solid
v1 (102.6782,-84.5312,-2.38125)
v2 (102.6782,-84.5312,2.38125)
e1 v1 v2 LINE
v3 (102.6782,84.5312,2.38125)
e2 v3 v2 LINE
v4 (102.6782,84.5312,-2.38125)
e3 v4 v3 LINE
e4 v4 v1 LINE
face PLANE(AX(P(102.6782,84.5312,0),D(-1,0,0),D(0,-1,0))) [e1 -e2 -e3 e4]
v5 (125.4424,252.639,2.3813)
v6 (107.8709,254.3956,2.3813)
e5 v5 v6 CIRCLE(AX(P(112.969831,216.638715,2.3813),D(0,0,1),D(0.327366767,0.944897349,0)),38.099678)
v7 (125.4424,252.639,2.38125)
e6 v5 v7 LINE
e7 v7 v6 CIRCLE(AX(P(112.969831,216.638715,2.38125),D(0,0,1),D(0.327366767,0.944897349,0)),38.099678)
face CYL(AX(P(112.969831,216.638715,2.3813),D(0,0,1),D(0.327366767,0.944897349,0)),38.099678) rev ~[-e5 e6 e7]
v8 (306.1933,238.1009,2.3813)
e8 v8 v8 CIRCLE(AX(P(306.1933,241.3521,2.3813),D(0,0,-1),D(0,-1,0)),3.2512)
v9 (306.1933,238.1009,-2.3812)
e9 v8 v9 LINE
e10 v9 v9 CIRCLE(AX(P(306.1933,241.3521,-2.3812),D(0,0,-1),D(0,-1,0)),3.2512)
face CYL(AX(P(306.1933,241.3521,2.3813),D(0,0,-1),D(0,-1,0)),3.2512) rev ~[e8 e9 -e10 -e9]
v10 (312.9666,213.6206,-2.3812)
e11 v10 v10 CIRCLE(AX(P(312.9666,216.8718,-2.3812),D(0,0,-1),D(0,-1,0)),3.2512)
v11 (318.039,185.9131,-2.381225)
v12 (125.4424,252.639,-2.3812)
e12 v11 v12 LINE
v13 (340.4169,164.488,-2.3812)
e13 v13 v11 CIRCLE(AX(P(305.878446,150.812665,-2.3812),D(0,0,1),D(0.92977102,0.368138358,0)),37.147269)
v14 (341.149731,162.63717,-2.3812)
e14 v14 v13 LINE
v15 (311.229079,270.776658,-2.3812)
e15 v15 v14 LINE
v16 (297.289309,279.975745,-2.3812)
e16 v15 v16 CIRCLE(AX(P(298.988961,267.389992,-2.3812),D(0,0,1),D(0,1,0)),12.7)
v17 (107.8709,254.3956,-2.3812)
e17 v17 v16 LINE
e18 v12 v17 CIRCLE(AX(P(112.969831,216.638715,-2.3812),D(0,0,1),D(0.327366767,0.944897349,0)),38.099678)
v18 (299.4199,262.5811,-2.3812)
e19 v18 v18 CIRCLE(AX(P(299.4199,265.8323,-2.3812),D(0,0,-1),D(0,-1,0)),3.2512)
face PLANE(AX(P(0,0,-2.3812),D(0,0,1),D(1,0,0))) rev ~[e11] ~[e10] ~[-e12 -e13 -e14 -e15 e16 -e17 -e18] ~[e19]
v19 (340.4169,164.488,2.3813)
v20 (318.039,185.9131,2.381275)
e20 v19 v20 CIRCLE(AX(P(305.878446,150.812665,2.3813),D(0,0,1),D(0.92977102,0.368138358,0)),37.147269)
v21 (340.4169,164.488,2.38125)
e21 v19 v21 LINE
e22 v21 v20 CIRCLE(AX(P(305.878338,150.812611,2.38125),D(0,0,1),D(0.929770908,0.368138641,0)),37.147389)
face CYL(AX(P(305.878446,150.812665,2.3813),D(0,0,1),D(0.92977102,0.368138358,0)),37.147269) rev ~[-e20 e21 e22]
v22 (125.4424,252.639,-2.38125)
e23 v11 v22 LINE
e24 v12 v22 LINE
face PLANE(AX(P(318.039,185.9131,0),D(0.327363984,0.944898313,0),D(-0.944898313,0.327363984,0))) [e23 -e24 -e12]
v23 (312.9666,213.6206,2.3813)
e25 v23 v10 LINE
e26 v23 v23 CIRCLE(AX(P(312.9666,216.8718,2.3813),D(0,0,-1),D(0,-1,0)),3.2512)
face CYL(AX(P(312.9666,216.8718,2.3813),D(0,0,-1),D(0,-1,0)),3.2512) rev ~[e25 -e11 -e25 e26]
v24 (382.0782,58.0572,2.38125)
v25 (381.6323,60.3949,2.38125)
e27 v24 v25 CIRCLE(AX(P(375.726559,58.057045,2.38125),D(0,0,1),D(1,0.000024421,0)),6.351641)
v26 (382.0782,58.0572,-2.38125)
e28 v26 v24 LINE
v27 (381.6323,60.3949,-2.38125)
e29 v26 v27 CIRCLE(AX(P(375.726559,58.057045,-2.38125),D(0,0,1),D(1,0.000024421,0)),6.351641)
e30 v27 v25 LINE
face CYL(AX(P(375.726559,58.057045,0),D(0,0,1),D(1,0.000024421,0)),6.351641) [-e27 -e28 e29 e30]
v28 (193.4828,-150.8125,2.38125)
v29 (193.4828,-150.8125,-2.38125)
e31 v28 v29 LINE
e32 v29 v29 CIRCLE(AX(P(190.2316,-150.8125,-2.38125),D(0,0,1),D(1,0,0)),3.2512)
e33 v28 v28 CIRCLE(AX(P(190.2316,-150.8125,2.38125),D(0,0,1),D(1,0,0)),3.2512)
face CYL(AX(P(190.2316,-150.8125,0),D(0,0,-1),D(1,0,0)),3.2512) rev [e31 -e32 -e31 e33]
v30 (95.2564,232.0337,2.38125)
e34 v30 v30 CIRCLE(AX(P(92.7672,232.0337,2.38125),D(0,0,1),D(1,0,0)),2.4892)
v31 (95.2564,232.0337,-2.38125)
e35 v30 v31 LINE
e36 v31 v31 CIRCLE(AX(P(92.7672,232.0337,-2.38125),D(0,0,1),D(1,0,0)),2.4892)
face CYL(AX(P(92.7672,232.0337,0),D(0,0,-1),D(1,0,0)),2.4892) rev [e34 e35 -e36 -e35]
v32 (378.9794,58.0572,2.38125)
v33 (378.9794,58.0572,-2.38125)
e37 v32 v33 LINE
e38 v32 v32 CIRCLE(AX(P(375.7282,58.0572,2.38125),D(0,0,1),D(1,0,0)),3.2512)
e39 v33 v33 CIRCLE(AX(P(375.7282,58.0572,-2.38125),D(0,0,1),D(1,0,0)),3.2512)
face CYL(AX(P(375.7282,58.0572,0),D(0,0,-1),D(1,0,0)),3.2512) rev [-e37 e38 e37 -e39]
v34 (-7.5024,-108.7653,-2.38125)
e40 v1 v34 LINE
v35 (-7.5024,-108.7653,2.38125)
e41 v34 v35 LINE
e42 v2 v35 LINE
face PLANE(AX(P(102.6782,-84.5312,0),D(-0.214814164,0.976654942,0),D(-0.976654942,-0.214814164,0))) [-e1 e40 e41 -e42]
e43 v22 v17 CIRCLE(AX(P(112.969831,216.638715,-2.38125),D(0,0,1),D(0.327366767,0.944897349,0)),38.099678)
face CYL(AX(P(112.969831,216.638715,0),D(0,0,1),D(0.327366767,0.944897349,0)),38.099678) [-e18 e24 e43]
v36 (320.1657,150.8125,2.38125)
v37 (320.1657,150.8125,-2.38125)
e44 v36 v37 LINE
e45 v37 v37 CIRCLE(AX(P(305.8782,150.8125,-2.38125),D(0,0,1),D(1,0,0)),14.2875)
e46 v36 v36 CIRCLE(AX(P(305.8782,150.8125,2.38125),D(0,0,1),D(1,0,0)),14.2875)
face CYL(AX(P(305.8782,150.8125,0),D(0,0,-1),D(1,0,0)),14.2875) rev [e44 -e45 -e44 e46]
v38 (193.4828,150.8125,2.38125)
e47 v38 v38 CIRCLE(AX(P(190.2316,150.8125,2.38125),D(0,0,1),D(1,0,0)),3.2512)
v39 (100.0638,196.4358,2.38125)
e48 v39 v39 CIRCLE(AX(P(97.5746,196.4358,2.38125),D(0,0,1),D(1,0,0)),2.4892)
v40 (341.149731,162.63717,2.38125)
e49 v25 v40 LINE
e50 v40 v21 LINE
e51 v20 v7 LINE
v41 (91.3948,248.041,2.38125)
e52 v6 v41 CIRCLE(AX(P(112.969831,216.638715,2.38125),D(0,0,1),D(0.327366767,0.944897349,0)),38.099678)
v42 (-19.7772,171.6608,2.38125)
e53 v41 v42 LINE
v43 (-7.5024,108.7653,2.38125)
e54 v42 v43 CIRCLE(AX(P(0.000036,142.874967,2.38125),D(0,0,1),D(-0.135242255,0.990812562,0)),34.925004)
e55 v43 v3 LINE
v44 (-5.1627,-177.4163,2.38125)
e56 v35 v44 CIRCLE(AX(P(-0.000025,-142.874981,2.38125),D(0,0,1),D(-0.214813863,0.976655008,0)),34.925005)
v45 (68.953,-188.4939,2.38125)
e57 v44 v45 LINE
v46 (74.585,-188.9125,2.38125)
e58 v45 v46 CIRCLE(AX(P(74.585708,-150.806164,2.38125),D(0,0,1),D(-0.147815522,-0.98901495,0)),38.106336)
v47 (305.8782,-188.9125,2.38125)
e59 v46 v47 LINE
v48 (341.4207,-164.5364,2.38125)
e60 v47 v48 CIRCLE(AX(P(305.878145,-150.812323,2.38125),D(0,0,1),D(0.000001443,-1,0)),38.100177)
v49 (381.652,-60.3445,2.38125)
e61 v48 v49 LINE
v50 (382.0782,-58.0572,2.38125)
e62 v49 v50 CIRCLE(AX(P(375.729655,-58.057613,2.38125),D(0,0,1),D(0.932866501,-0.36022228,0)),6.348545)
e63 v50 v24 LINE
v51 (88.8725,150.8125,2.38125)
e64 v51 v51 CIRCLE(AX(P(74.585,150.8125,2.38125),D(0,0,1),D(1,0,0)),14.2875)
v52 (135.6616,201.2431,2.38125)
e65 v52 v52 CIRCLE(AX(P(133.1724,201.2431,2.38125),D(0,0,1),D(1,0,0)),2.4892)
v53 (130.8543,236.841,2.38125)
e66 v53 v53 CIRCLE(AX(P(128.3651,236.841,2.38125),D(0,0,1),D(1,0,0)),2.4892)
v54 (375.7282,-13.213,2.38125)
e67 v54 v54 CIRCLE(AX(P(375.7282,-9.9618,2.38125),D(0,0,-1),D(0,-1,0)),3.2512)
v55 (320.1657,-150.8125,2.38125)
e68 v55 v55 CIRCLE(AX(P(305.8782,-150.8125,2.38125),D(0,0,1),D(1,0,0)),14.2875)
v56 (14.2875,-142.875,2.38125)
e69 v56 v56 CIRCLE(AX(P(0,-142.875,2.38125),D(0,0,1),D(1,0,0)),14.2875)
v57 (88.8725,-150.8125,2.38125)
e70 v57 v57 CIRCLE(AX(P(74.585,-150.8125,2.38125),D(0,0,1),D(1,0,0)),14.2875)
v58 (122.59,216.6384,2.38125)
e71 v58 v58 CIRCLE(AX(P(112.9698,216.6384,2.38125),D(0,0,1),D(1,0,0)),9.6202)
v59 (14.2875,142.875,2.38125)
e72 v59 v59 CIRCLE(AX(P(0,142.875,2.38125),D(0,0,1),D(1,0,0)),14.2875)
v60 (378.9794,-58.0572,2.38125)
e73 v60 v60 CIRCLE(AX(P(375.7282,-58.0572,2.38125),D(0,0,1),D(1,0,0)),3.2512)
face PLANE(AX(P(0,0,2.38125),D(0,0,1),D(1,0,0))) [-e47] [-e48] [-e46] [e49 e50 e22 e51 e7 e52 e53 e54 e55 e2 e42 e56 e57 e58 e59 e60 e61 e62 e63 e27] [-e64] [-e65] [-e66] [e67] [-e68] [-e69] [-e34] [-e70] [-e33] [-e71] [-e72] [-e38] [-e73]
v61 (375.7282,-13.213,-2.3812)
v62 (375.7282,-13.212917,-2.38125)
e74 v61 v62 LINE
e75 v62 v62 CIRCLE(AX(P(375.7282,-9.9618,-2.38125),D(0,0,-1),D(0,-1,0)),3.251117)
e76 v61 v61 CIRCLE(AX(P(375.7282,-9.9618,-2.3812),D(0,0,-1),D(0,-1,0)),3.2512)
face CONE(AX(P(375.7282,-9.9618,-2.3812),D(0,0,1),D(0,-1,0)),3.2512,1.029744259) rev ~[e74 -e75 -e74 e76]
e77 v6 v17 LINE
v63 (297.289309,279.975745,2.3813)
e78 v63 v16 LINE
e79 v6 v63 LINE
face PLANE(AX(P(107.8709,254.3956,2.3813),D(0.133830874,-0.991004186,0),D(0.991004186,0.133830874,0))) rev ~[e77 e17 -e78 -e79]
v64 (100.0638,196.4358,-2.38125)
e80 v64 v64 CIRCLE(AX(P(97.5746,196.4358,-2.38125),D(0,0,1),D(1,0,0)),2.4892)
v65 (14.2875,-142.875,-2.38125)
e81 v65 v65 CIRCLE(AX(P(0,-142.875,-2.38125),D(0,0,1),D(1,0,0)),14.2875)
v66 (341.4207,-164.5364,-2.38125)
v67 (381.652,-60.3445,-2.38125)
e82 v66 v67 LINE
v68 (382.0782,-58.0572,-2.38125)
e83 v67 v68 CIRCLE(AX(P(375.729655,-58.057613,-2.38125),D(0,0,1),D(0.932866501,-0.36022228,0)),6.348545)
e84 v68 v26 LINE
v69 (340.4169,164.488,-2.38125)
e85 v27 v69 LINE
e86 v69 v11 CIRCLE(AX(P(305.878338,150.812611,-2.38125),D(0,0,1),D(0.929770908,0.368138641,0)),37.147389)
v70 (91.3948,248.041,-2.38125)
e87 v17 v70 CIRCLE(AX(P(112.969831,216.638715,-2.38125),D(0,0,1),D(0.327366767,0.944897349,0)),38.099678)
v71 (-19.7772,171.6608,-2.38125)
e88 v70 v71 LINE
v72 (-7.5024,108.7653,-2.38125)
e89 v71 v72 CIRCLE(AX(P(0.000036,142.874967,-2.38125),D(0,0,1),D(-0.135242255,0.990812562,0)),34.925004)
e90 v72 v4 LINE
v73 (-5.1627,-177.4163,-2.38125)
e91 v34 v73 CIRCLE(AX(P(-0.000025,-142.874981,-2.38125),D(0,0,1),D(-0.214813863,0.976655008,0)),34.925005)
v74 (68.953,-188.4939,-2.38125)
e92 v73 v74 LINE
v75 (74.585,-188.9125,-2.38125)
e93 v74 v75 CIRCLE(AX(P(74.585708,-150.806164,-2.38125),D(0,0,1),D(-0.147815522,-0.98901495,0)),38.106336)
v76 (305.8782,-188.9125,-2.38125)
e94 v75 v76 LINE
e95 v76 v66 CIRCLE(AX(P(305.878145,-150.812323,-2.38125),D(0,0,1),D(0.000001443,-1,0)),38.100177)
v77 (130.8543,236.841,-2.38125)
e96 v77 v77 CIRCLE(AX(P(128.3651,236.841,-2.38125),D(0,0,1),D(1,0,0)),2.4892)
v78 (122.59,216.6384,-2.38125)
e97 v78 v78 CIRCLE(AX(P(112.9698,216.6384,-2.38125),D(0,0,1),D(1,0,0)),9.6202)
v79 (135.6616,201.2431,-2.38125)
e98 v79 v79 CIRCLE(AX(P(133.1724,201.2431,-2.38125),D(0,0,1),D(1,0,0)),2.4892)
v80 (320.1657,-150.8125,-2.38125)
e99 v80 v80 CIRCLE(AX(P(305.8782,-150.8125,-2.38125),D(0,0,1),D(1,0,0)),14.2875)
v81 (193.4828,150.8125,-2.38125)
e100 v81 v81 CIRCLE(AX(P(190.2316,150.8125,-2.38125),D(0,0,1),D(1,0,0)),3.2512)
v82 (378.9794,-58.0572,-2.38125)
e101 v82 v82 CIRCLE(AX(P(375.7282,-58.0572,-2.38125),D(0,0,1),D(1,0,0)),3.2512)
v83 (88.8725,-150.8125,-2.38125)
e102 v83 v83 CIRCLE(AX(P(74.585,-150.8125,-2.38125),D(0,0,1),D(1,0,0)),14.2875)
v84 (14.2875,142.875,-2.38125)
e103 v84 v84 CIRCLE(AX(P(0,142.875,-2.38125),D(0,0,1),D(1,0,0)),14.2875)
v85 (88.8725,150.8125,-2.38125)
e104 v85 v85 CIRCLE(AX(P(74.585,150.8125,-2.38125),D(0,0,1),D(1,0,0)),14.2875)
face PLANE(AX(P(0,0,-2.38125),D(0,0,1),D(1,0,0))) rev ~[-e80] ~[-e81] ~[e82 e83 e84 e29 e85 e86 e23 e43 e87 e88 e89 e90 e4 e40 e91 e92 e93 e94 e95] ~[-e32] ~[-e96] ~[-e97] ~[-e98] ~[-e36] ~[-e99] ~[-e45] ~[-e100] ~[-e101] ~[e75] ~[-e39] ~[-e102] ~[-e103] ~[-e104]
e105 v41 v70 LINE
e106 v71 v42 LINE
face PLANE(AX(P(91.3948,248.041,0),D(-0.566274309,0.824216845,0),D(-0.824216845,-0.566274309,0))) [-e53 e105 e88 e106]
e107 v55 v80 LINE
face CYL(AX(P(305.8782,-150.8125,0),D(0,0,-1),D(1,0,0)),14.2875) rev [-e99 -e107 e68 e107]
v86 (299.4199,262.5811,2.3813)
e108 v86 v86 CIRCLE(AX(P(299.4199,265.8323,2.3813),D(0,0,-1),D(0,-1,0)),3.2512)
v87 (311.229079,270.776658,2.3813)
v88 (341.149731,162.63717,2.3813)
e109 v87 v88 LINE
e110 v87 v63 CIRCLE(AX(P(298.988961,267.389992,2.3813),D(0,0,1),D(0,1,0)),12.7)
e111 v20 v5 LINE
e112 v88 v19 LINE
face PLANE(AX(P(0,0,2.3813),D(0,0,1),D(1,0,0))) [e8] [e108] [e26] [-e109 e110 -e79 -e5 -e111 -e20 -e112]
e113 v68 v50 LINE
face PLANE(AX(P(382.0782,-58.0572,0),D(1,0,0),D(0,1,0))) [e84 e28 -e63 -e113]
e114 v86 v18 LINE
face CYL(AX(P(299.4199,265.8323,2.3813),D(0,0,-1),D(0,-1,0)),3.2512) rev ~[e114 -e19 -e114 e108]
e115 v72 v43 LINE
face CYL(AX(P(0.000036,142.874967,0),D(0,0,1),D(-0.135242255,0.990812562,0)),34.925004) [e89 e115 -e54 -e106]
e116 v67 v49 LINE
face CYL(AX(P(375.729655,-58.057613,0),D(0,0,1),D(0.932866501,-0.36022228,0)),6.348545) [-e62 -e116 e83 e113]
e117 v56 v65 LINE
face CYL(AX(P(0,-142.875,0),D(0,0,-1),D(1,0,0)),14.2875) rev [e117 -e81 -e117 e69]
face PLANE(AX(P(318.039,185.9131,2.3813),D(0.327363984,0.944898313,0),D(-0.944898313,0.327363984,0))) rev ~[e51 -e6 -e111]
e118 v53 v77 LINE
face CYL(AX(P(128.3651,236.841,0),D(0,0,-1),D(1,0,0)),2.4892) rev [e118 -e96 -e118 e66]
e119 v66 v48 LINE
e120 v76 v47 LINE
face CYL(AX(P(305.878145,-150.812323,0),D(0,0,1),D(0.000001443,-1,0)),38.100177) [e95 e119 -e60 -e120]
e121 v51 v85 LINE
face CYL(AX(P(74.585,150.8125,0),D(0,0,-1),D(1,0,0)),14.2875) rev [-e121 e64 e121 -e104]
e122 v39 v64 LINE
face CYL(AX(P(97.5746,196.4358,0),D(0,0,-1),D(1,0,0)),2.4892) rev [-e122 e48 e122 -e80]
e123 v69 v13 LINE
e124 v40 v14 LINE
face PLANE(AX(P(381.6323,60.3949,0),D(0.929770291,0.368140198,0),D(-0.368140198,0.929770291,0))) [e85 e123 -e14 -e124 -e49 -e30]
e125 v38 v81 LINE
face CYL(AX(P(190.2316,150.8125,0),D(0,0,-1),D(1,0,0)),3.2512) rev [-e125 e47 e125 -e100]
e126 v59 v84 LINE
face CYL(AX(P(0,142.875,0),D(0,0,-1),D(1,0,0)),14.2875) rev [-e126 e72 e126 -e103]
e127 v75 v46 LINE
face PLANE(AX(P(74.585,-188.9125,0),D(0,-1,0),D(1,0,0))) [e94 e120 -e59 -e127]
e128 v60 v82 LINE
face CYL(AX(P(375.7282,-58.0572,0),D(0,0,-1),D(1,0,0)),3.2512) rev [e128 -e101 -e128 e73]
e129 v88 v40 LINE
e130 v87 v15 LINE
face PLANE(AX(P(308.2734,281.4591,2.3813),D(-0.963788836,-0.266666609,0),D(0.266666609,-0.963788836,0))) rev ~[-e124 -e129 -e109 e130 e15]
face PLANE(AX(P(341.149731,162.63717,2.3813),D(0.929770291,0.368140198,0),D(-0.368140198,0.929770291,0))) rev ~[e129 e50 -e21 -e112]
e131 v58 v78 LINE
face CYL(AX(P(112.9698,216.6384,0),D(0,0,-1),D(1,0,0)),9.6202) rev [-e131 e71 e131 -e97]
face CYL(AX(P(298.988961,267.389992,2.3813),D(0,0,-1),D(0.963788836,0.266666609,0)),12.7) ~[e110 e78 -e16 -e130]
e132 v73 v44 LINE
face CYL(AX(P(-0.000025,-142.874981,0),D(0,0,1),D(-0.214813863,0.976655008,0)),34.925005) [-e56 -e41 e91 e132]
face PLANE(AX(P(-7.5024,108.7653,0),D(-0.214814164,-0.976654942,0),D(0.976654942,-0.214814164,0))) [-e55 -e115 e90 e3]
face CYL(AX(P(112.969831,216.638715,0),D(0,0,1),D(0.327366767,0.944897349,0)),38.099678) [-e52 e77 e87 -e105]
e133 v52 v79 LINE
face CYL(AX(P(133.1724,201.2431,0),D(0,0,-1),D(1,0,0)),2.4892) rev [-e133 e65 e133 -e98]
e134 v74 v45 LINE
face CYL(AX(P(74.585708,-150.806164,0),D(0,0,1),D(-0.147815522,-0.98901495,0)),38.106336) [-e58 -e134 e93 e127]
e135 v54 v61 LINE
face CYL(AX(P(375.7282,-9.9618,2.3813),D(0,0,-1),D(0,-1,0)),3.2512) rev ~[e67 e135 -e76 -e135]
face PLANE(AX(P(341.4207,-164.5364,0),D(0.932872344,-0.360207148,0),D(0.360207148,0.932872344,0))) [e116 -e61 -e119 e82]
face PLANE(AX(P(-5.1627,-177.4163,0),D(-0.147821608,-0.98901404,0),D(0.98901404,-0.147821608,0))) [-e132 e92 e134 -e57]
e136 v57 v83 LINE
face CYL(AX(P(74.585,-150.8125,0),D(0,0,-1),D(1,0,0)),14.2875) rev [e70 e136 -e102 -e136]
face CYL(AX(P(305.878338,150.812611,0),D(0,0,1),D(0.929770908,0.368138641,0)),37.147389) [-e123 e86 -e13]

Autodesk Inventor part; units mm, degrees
ref_plane "YZ Plane" through (0, 0, 0) normal (1, 0, 0) x (0, 1, 0)
ref_plane "XZ Plane" through (0, 0, 0) normal (0, 1, 0) x (-1, 0, 0)
ref_plane "XY Plane" through (0, 0, 0) normal (0, 0, 1) x (1, 0, 0)
sketch "Sketch1" plane through (0, 0, 0) normal (0, 0, 1) x (1, 0, 0)
  circle A0 centre (239.2032, 0) radius 130.175 projected
  arc A1 (74.585, 187.96) -> (69.5611, 187.6187) centre (74.585, 150.8125) ccw projected
  line L0 (69.5611, 187.6187) -> (-4.7233, 177.4791) projected
  arc A2 (-4.7233, 177.4791) -> (-7.5024, 108.7653) centre (0, 142.875) ccw projected
  line L1 (-7.5024, 108.7653) -> (102.6782, 84.5312) projected
  line L2 (102.6782, 84.5312) -> (102.6782, -84.5312) projected
  line L3 (102.6782, -84.5312) -> (-7.5024, -108.7653) projected
  arc A3 (-7.5024, -108.7653) -> (-5.1627, -177.4163) centre (0, -142.875) ccw projected
  line L4 (-5.1627, -177.4163) -> (68.953, -188.4939) projected
  arc A4 (68.953, -188.4939) -> (74.585, -188.9125) centre (74.585, -150.8125) ccw projected
  line L5 (74.585, -188.9125) -> (305.8782, -188.9125) projected
  arc A5 (305.8782, -188.9125) -> (341.4207, -164.5364) centre (305.8782, -150.8125) ccw projected
  line L6 (341.4207, -164.5364) -> (381.652, -60.3445) projected
  arc A6 (381.652, -60.3445) -> (382.0782, -58.0572) centre (375.7282, -58.0572) ccw projected
  line L7 (382.0782, -58.0572) -> (382.0782, 58.0572) projected
  arc A7 (382.0782, 58.0572) -> (381.6323, 60.3949) centre (375.7282, 58.0572) ccw projected
  line L8 (381.6323, 60.3949) -> (340.4169, 164.488) projected
  arc A8 (340.4169, 164.488) -> (305.8782, 187.96) centre (305.8782, 150.8125) ccw projected
  circle A9 centre (74.585, -150.8125) radius 14.2875 projected
  circle A10 centre (74.585, 150.8125) radius 14.2875 projected
  circle A11 centre (190.2316, 150.8125) radius 3.2512 projected
  circle A12 centre (190.2316, -150.8125) radius 3.2512 projected
  circle A13 centre (375.7282, -58.0572) radius 3.2512 projected
  circle A14 centre (375.7282, 58.0572) radius 3.2512 projected
  circle A15 centre (305.8782, 150.8125) radius 14.2875 projected
  circle A16 centre (305.8782, -150.8125) radius 14.2875 projected
  circle A17 centre (0, -142.875) radius 14.2875 projected
  circle A18 centre (0, 142.875) radius 14.2875 projected
  circle A19 centre (112.9698, 216.6384) radius 38.1 construction
  circle A20 centre (112.9698, 216.6384) radius 19.1008 construction
  circle A21 centre (112.9698, 216.6384) radius 9.6202
  circle A22 centre (133.1724, 201.2431) radius 2.4892
  circle A23 centre (128.3651, 236.841) radius 2.4892
  circle A24 centre (92.7672, 232.0337) radius 2.4892
  circle A25 centre (97.5746, 196.4358) radius 2.4892
  line L9 (84.856, 243.5486) -> (92.7672, 232.0337) construction
  line L10 (128.3651, 236.841) -> (132.9386, 250.0419) construction
  circle A26 centre (112.9698, 216.6384) radius 25.4 construction
  line L11 (112.9698, 216.6384) -> (305.8782, -150.8125) construction
  circle A27 centre (74.585, 150.8125) radius 38.1 construction
  line L12 (318.039, 185.9131) -> (125.4424, 252.639)
  line L13 (91.3948, 248.041) -> (-19.7772, 171.6608)
  arc A28 (125.4424, 252.639) -> (91.3948, 248.041) centre (112.9698, 216.6384) ccw
  dimension "d192" = 50.8
  dimension "d186" = 76.2
  dimension "d187" = 38.2016
  dimension "d188" = 19.2405
  dimension "d189" = 4.9784
  dimension "d190" = 360
  dimension "d193" = 415.0106
extrude "Extrusion1" add sketch "Sketch1" along normal mid plane 4.7625 contours A0 | L13 A28 L12 A8 L8 A7 L7 A6 L6 A5 L5 A4 L4 A3 L3 L2 L1 A2
sketch "Sketch2" plane through (0, 0, -2.3813) normal (0, 0, -1) x (-1, 0, 0)
  line L0 (7.573, -108.7809) -> (-101.6, -84.5312) projected
  line L1 (-101.6, -84.5312) -> (-101.6, 84.5312) projected
  line L2 (-101.6, 84.5312) -> (7.573, 108.7809) projected
  arc A0 (7.573, 108.7809) -> (16.0837, 173.8761) centre (0, 142.875) ccw projected
  arc A1 (-315.0883, 186.5069) -> (-339.3386, 164.488) centre (-304.8, 150.8125) ccw projected
  line L3 (-339.3386, 164.488) -> (-380.554, 60.3949) projected
  arc A2 (-380.554, 60.3949) -> (-381, 58.0572) centre (-374.65, 58.0572) ccw projected
  line L4 (-381, 58.0572) -> (-381, -58.0572) projected
  arc A3 (-381, -58.0572) -> (-380.5737, -60.3445) centre (-374.65, -58.0572) ccw projected
  line L5 (-380.5737, -60.3445) -> (-340.3424, -164.5364) projected
  arc A4 (-340.3424, -164.5364) -> (-304.8, -188.9125) centre (-304.8, -150.8125) ccw projected
  line L6 (-304.8, -188.9125) -> (-74.585, -188.9125) projected
  arc A5 (-74.585, -188.9125) -> (-68.953, -188.4939) centre (-74.585, -150.8125) ccw projected
  line L7 (-68.953, -188.4939) -> (5.1627, -177.4163) projected
  arc A6 (5.1627, -177.4163) -> (7.573, -108.7809) centre (0, -142.875) ccw projected
  circle A7 centre (-74.585, -150.8125) radius 14.2875 projected
  circle A8 centre (-74.585, 150.8125) radius 14.2875 projected
  circle A9 centre (-189.6925, 150.8125) radius 3.2512 projected
  circle A10 centre (-189.6925, -150.8125) radius 3.2512 projected
  circle A11 centre (-374.65, -58.0572) radius 3.2512 projected
  circle A12 centre (-374.65, 58.0572) radius 3.2512 projected
  circle A13 centre (-304.8, 150.8125) radius 14.2875 projected
  circle A14 centre (-304.8, -150.8125) radius 14.2875 projected
  circle A15 centre (0, -142.875) radius 14.2875 projected
  circle A16 centre (0, 142.875) radius 14.2875 projected
  line L8 (16.0837, 173.8761) -> (-107.2199, 237.8472) projected
  arc A17 (-107.2199, 237.8472) -> (-129.3442, 240.0442) centre (-121.0355, 211.2177) ccw projected
  line L9 (-129.3442, 240.0442) -> (-315.0883, 186.5069) projected
  line L10 (-101.6, -84.5312) -> (7.573, -108.7809) projected
  arc A18 (5.1627, -177.4163) -> (7.573, -108.7809) centre (0, -142.875) ccw projected
  line L11 (5.1627, -177.4163) -> (-68.953, -188.4939) projected
  arc A19 (-74.585, -188.9125) -> (-68.953, -188.4939) centre (-74.585, -150.8125) ccw projected
  line L12 (-74.585, -188.9125) -> (-304.8, -188.9125) projected
  arc A20 (-340.3424, -164.5364) -> (-304.8, -188.9125) centre (-304.8, -150.8125) ccw projected
  line L13 (-340.3424, -164.5364) -> (-380.5737, -60.3445) projected
  arc A21 (-381, -58.0572) -> (-380.5737, -60.3445) centre (-374.65, -58.0572) ccw projected
  line L14 (-381, -58.0572) -> (-381, 58.0572) projected
  arc A22 (-380.554, 60.3949) -> (-381, 58.0572) centre (-374.65, 58.0572) ccw projected
  line L15 (-380.554, 60.3949) -> (-339.3386, 164.488) projected
  arc A23 (-315.0883, 186.5069) -> (-339.3386, 164.488) centre (-304.8, 150.8125) ccw projected
  line L16 (-315.0883, 186.5069) -> (-129.3442, 240.0442) projected
  arc A24 (-107.2199, 237.8472) -> (-129.3442, 240.0442) centre (-121.0355, 211.2177) ccw projected
  line L17 (-107.2199, 237.8472) -> (16.0837, 173.8761) projected
  arc A25 (7.573, 108.7809) -> (16.0837, 173.8761) centre (0, 142.875) ccw projected
  line L18 (7.573, 108.7809) -> (-101.6, 84.5312) projected
  line L19 (-101.6, 84.5312) -> (-101.6, -84.5312) projected
  circle A26 centre (-74.585, -150.8125) radius 14.2875 projected
  circle A27 centre (-74.585, 150.8125) radius 14.2875 projected
  circle A28 centre (-189.6925, 150.8125) radius 3.2512 projected
  circle A29 centre (-189.6925, -150.8125) radius 3.2512 projected
  circle A30 centre (-374.65, -58.0572) radius 3.2512 projected
  circle A31 centre (-374.65, 58.0572) radius 3.2512 projected
  circle A32 centre (-304.8, 150.8125) radius 14.2875 projected
  circle A33 centre (-304.8, -150.8125) radius 14.2875 projected
  circle A34 centre (0, -142.875) radius 14.2875 projected
  circle A35 centre (0, 142.875) radius 14.2875 projected
  circle A36 centre (-121.0355, 211.2177) radius 9.6202 projected
  circle A37 centre (-140.6829, 195.1199) radius 2.4892 projected
  circle A38 centre (-137.1333, 230.8651) radius 2.4892 projected
  circle A39 centre (-101.3881, 227.3155) radius 2.4892 projected
  circle A40 centre (-104.9377, 191.5703) radius 2.4892 projected
  line L20 (0, 142.875) -> (-74.585, 150.8125)
  line L21 (-74.585, 150.8125) -> (-121.0355, 211.2177)
  line L22 (-121.0355, 211.2177) -> (-189.6925, 150.8125)
  line L23 (-189.6925, 150.8125) -> (-304.8, 150.8125)
  line L24 (-304.8, 150.8125) -> (-374.65, 58.0572)
  line L25 (-374.65, 58.0572) -> (-374.65, -58.0572)
  line L26 (-374.65, -58.0572) -> (-304.8, -150.8125)
  line L27 (-304.8, -150.8125) -> (-189.6925, -150.8125)
  line L28 (-189.6925, -150.8125) -> (-74.585, -150.8125)
  line L29 (-74.585, -150.8125) -> (0, -142.875)
  line L30 (-0.504, -138.1392) -> (-74.8377, -146.05)
  line L31 (-74.8377, -146.05) -> (-189.6925, -146.05)
  line L32 (-189.6925, -146.05) -> (-302.4246, -146.05)
  line L33 (-302.4246, -146.05) -> (-369.8875, -56.4646)
  line L34 (-369.8875, -56.4646) -> (-369.8875, 56.4646)
  line L35 (-369.8875, 56.4646) -> (-302.4246, 146.05)
  line L36 (-302.4246, 146.05) -> (-187.8957, 146.05)
  line L37 (-187.8957, 146.05) -> (-121.7094, 204.2814)
  line L38 (-121.7094, 204.2814) -> (-77.1171, 146.2926)
  line L39 (-77.1171, 146.2926) -> (-0.504, 138.1392)
  circle A41 centre (-121.0355, 211.2177) radius 30
  line L40 (-121.0355, 211.2177) -> (0, 142.875)
  line L41 (-304.8, 150.8125) -> (-121.0355, 211.2177)
  line L42 (-121.546, 206.0367) -> (-22.3877, 150.0469)
  line L43 (-22.3877, 150.0469) -> (-72.053, 155.3324)
  line L44 (-72.053, 155.3324) -> (-120.3616, 218.154)
  line L45 (-120.3616, 218.154) -> (-191.4893, 155.575)
  line L46 (-191.4893, 155.575) -> (-275.0604, 155.575)
  line L47 (-275.0604, 155.575) -> (-121.546, 206.0367)
  line L48 (-374.65, 58.0572) -> (-247.2463, 0)
  line L49 (-374.65, -58.0572) -> (-247.2463, 0)
  line L50 (-377.9363, 54.3211) -> (-258.7313, 0)
  line L51 (-258.7313, 0) -> (-381.225, -55.8197)
  line L52 (-371.4001, 61.81) -> (-235.7612, 0)
  line L53 (-235.7612, 0) -> (-375.2, -63.5416)
  line L54 (-189.6925, 150.8125) -> (-247.2463, 0)
  line L55 (-247.2463, 0) -> (-189.6925, -150.8125)
  line L56 (-74.585, 150.8125) -> (-189.6925, 150.8125)
  line L57 (-74.585, 150.8125) -> (-101.6, 84.5312)
  line L58 (-74.585, -150.8125) -> (-101.6, -84.5312)
  line L59 (-187.5785, 142.9947) -> (-252.4177, -26.9086)
  line L60 (-195.5097, 148.9267) -> (-260.349, -20.9767)
  line L61 (-256.7203, 11.4682) -> (-192.2893, -157.3653)
  line L62 (-248.8555, 17.5743) -> (-184.4245, -151.2592)
  line L63 (-78.9953, -152.61) -> (-106.0102, -86.3287)
  line L64 (-70.1748, -149.015) -> (-97.1898, -82.7337)
  line L65 (-78.9953, 152.61) -> (-106.0102, 86.3287)
  line L66 (-106.3625, 88.3519) -> (-106.3625, -88.3519)
  line L67 (-106.3625, -88.3519) -> (6.5404, -113.4301)
  arc A42 (4.4587, -172.7061) -> (6.5404, -113.4301) centre (0, -142.875) ccw
  line L68 (4.4587, -172.7061) -> (-69.657, -183.7838)
  arc A43 (-74.585, -184.15) -> (-69.657, -183.7838) centre (-74.585, -150.8125) ccw
  line L69 (-74.585, -184.15) -> (-304.8, -184.15)
  arc A44 (-335.8996, -162.8209) -> (-304.8, -184.15) centre (-304.8, -150.8125) ccw
  line L70 (-335.8996, -162.8209) -> (-376.1309, -58.6291)
  arc A45 (-376.2375, -58.0572) -> (-376.1309, -58.6291) centre (-374.65, -58.0572) ccw
  line L71 (-376.2375, -58.0572) -> (-376.2375, 58.0572)
  arc A46 (-376.126, 58.6416) -> (-376.2375, 58.0572) centre (-374.65, 58.0572) ccw
  line L72 (-376.126, 58.6416) -> (-334.9106, 162.7347)
  arc A47 (-313.7692, 181.9307) -> (-334.9106, 162.7347) centre (-304.8, 150.8125) ccw
  line L73 (-313.7692, 181.9307) -> (-128.0252, 235.468)
  arc A48 (-109.4131, 233.6198) -> (-128.0252, 235.468) centre (-121.0355, 211.2177) ccw
  line L74 (-109.4131, 233.6198) -> (13.8905, 169.6487)
  arc A49 (6.5404, 113.4301) -> (13.8905, 169.6487) centre (0, 142.875) ccw
  line L75 (6.5404, 113.4301) -> (-106.3625, 88.3519)
  line L76 (-247.2463, 0) -> (-106.3625, 0)
  line L77 (-189.6925, 150.8125) -> (-106.3625, 0)
  line L78 (-106.3625, 0) -> (-189.6925, -150.8125)
  line L79 (-193.861, 148.5092) -> (-110.531, -2.3033)
  line L80 (-185.524, 153.1158) -> (-102.194, 2.3033)
  line L81 (-305.5222, -4.7625) -> (-107.2014, -4.7625)
  line L82 (-305.8488, 4.7625) -> (-107.528, 4.7625)
  line L83 (-110.531, 2.3033) -> (-193.861, -148.5092)
  line L84 (-102.194, -2.3033) -> (-185.524, -153.1158)
  line L85 (-74.585, 146.05) -> (-189.6925, 146.05)
  line L86 (-74.585, 155.575) -> (-189.6925, 155.575)
  line L87 (-101.6, 84.5312) -> (-148.0275, 75.4063)
  line L88 (-101.6, -84.5312) -> (-148.0275, -75.4062)
  line L89 (-148.946, 80.0793) -> (-105.0402, 88.7087)
  line L90 (-105.0402, 88.7087) -> (-78.9953, 152.61)
  line L91 (-147.109, 70.7332) -> (-98.1598, 80.3537)
  line L92 (-98.1598, 80.3537) -> (-70.1748, 149.015)
  line L93 (-148.946, -80.0793) -> (-105.0402, -88.7087)
  line L94 (-105.0402, -88.7087) -> (-78.9953, -152.61)
  line L95 (-147.109, -70.7332) -> (-98.1598, -80.3537)
  line L96 (-98.1598, -80.3537) -> (-70.1748, -149.015)
  circle A50 centre (-74.585, -150.8125) radius 19.05
  circle A51 centre (-304.8, -150.8125) radius 19.05
  circle A52 centre (-304.8, 150.8125) radius 19.05
  circle A53 centre (-189.6925, 150.8125) radius 8.0137
  circle A54 centre (-189.6925, -150.8125) radius 8.0137
  circle A55 centre (-74.585, 150.8125) radius 19.05
  circle A56 centre (-374.65, 58.0572) radius 6.35
  line L97 (-101.6, 84.5312) -> (-101.6, -84.5312) projected
  line L98 (-304.8, 150.8125) -> (-247.2463, 0)
  line L99 (-304.8, -150.8125) -> (-247.2463, 0)
  line L100 (-309.2495, 149.1145) -> (-251.6958, -1.698)
  line L101 (-300.3505, 152.5105) -> (-242.7968, 1.698)
  line L102 (-300.3505, -152.5105) -> (-242.7968, -1.698)
  line L103 (-309.2495, -149.1145) -> (-251.6958, 1.698)
  point P0 (-93.0301, -146.05)
  point P1 (-85.9571, -135.5292)
  point P2 (-145.5385, -80.7491)
  point P3 (-181.6199, -146.05)
  point P4 (-140.7003, -71.9927)
  point P5 (-106.3625, -78.7416)
  point P6 (-106.3625, -9.8475)
  point P7 (-286.3549, -146.05)
  point P8 (-196.6075, -146.05)
  point P9 (-312.0914, -133.2131)
  point P10 (-367.277, -59.9311)
  point P11 (-369.8875, -50.6533)
  point P12 (-369.8875, 50.6533)
  point P13 (-312.0914, 133.2131)
  point P14 (-367.277, 59.9311)
  point P15 (-188.9002, -139.5311)
  point P16 (-114.4351, -4.7625)
  point P17 (-240.3313, -4.7625)
  point P18 (-240.3313, 4.7625)
  point P19 (-114.4351, 4.7625)
  point P20 (-188.9002, 139.5311)
  point P21 (-106.3625, 78.7416)
  point P22 (-140.7003, 71.9927)
  point P23 (-106.3625, 9.8475)
  point P24 (-286.3549, 146.05)
  point P25 (-196.6075, 146.05)
  point P26 (-196.1375, 155.575)
  point P27 (-187.9996, 158.6453)
  point P28 (-146.4193, 195.2282)
  point P29 (-147.6867, 197.444)
  point P30 (-85.9571, 135.5292)
  point P31 (-93.0301, 146.05)
  point P32 (-181.6199, 146.05)
  point P33 (-145.5385, 80.7491)
  point P34 (-93.0301, 155.575)
  point P35 (-89.6042, 162.5311)
  point P36 (-106.7552, 184.8346)
  point P37 (-140.1275, 188.077)
  point P38 (-177.0695, 155.575)
  point P39 (-82.0536, 168.3374)
  point P40 (-55.7395, 153.5963)
  point P41 (-97.5852, 192.5072)
  point P42 (-99.2045, 190.6409)
  point P43 (-247.2463, 150.8125)
  point P44 (-101.6, 0)
  point P45 (-302.673, -131.8816)
  point P46 (-260.349, -20.9767)
  point P47 (-255.8346, -9.1474)
  point P48 (-252.4177, -26.9086)
  point P49 (-293.774, -135.2777)
  point P50 (-247.2463, -13.3574)
  point P51 (-293.774, 135.2777)
  point P52 (-247.2463, 13.3574)
  point P53 (-302.673, 131.8816)
  point P54 (-255.8346, 9.1474)
  point P55 (-369.8875, 53.8571)
  point P56 (-368.319, 58.5475)
  dimension "d123" = 4.7625
  dimension "d124" = 60
  dimension "d125" = 4.7625
  dimension "d126" = 4.7625
  dimension "d127" = 4.7625
  dimension "d130" = 4.7625
  dimension "d131" = 4.7625
  dimension "d132" = 4.7625
  dimension "d133" = 4.7625
  dimension "d134" = 4.7625
  dimension "d135" = 4.7625
  dimension "d136" = 4.7625
  dimension "d137" = 4.7625
  dimension "d138" = 4.7625
  dimension "d139" = 4.7625
  dimension "d140" = 4.7625
  dimension "d141" = 4.7625
  dimension "d142" = 4.7625
  dimension "d143" = 4.7625
  dimension "d144" = 4.7625
  dimension "d145" = 4.7625
  dimension "d146" = 4.7625
  dimension "d147" = 4.7625
  dimension "d148" = 4.7625
  dimension "d149" = 4.7625
  dimension "d150" = 4.7625
  dimension "d151" = 4.7625
  dimension "d152" = 4.7625
  dimension "d153" = 4.7625
  dimension "d154" = 4.7625
  dimension "d155" = 4.7625
  dimension "d157" = 12.7
  dimension "d158" = 4.7625
  dimension "d159" = 4.7625
  dimension "d160" = 4.7625
  dimension "d161" = 4.7625
extrude "Not Final Pocketing" [suppressed]
fillet "Fillet3" [suppressed]
sketch "Sketch3" plane through (0, 0, 2.3813) normal (0, 0, 1) x (1, 0, 0)
  circle A0 centre (248.2641, 7.8919) radius 3.2512
  circle A1 centre (252.7796, -17.1035) radius 3.2512
  line L0 (248.2641, 7.8919) -> (248.2641, -17.1035)
  line L1 (248.2641, -17.1035) -> (252.7796, -17.1035)
  line L2 (252.7796, -17.1035) -> (248.2641, 7.8919)
  arc A2 (241.3136, 28.9032) -> (253.1789, 28.9032) centre (247.2463, 31.1673) ccw projected
  line L3 (247.5237, 24.8234) -> (248.2641, 7.8919)
  arc A3 (261.3531, 23.6079) -> (269.9189, 15.5655) centre (267.2858, 21.3438) ccw projected
  line L4 (262.1012, 17.6774) -> (248.2641, 7.8919)
  arc A4 (253.1789, -28.9032) -> (241.3136, -28.9032) centre (247.2463, -31.1673) ccw projected
  line L5 (249.5712, -25.2582) -> (252.7796, -17.1035)
  line L6 (252.7796, -17.1035) -> (261.1908, -19.5622)
  arc A5 (269.9189, -15.5655) -> (261.3531, -23.6079) centre (267.2858, -21.3438) ccw projected
  point P0 (0, 0)
  dimension "d162" = 6.5024
  dimension "d163" = 25.4
  dimension "d164" = 10.24
hole "Hole1" [suppressed]
sketch "Sketch4" plane through (0, 0, 2.3813) normal (0, 0, 1) x (1, 0, 0)
  circle A0 centre (248.2641, 7.8919) radius 3.2512 projected
  circle A1 centre (252.7796, -17.1035) radius 3.2512 projected
  line L0 (248.2641, 7.8919) -> (252.7796, -17.1035)
  line L1 (248.2641, 7.8919) -> (212.1396, 207.8551)
  circle A2 centre (212.1396, 207.8551) radius 3.8059
  circle A3 centre (216.6552, 182.8597) radius 8.1342
  point P0 (0, 0)
  dimension "d172" = 203.2
  dimension "d173" = 25.4
hole "Hole2" [suppressed]
sketch "Sketch5" plane through (0, 0, 2.3813) normal (0, 0, 1) x (1, 0, 0)
  arc A0 (340.4169, 164.488) -> (318.039, 185.9131) centre (305.8782, 150.8125) ccw projected
  arc A1 (381.652, -60.3445) -> (382.0782, -58.0572) centre (375.7282, -58.0572) ccw projected
  line L0 (74.585, -188.9125) -> (305.8782, -188.9125) projected
  arc A2 (125.4424, 252.639) -> (91.3948, 248.041) centre (112.9698, 216.6384) ccw projected
  circle A3 centre (375.7282, -58.0572) radius 3.2512 projected
  circle A4 centre (375.7282, 58.0572) radius 3.2512 projected
  circle A5 centre (305.8782, 150.8125) radius 14.2875 projected
  circle A6 centre (305.8782, -150.8125) radius 14.2875 projected
  circle A7 centre (0, -142.875) radius 14.2875 projected
  circle A8 centre (0, 142.875) radius 14.2875 projected
  circle A9 centre (92.7672, 232.0337) radius 2.4892 projected
  circle A10 centre (133.1724, 201.2431) radius 2.4892 projected
  circle A11 centre (128.3651, 236.841) radius 2.4892 projected
  circle A12 centre (74.585, -150.8125) radius 14.2875 projected
  circle A13 centre (74.585, 150.8125) radius 14.2875 projected
  circle A14 centre (190.2316, 150.8125) radius 3.2512 projected
  circle A15 centre (190.2316, -150.8125) radius 3.2512 projected
  circle A16 centre (112.9698, 216.6384) radius 9.6202 projected
  circle A17 centre (97.5746, 196.4358) radius 2.4892 projected
  line L1 (-7.5024, 108.7653) -> (102.6782, 84.5312) projected
  line L2 (102.6782, 84.5312) -> (102.6782, -84.5312) projected
  line L3 (102.6782, -84.5312) -> (-7.5024, -108.7653) projected
  arc A18 (-7.5024, -108.7653) -> (-5.1627, -177.4163) centre (0, -142.875) ccw projected
  line L4 (-5.1627, -177.4163) -> (68.953, -188.4939) projected
  arc A19 (68.953, -188.4939) -> (74.585, -188.9125) centre (74.585, -150.8125) ccw projected
  line L5 (74.585, -188.9125) -> (305.8782, -188.9125) projected
  arc A20 (305.8782, -188.9125) -> (341.4207, -164.5364) centre (305.8782, -150.8125) ccw projected
  line L6 (341.4207, -164.5364) -> (381.652, -60.3445) projected
  arc A21 (381.652, -60.3445) -> (382.0782, -58.0572) centre (375.7282, -58.0572) ccw projected
  line L7 (382.0782, -58.0572) -> (382.0782, 58.0572) projected
  arc A22 (382.0782, 58.0572) -> (381.6323, 60.3949) centre (375.7282, 58.0572) ccw projected
  line L8 (381.6323, 60.3949) -> (340.4169, 164.488) projected
  arc A23 (340.4169, 164.488) -> (318.039, 185.9131) centre (305.8782, 150.8125) ccw projected
  line L9 (318.039, 185.9131) -> (125.4424, 252.639) projected
  arc A24 (125.4424, 252.639) -> (91.3948, 248.041) centre (112.9698, 216.6384) ccw projected
  line L10 (91.3948, 248.041) -> (-19.7772, 171.6608) projected
  arc A25 (-19.7772, 171.6608) -> (-7.5024, 108.7653) centre (0, 142.875) ccw projected
  line L11 (107.8709, 254.3956) -> (308.2734, 281.4591)
  line L12 (308.2734, 281.4591) -> (341.6806, 160.7185)
  point P0 (0, 0)
  point P1 (381.9708, -59.2206)
  point P2 (318.039, 185.9131)
  point P3 (340.4169, 164.488)
  point P4 (381.652, -60.3445)
  point P5 (341.1497, 162.6371)
  dimension "d202" = 74.534
extrude "Extrusion3" add sketch "Sketch5" against normal up to surface (4.7625 mm away) contours A0 L9 A2 L11 L12 L8
sketch "Sketch7" plane through (0, 0, 2.3813) normal (0, 0, 1) x (1, 0, 0)
  circle A0 centre (299.4199, 265.8323) radius 3.4686
  line L0 (299.4199, 265.8323) -> (306.1933, 241.3521)
  line L1 (306.1933, 241.3521) -> (312.9666, 216.8718)
  line L2 (341.1497, 162.6371) -> (308.2734, 281.4591) projected
  line L3 (308.2734, 281.4591) -> (256.5939, 267.1601)
  line L4 (312.9666, 216.8718) -> (350.617, 80.7953)
  line L5 (350.617, 80.7953) -> (375.7282, -9.9618)
  circle A1 centre (375.7282, 58.0572) radius 3.2512 projected
  point P0 (0, 0)
  dimension "d203" = 25.4
  dimension "d204" = 25.4
  dimension "d205" = 12.7
  dimension "d206" = 12.7
  dimension "d207" = 235.3562
hole "Hole3" at (299.4199, 265.8323, 2.3813) at (306.1933, 241.3521, 2.3813) at (312.9666, 216.8718, 2.3813) at (375.7282, -9.9618, 2.3813) direction (0, 0, -1) diameter 6.5024 depth 4.7625 tip angle 118
fillet "Fillet4" radius 12.7 1 edges at (308.2734, 281.4591, 0)
properties part number "OUTK_002_ShotPlateNoReceptacle" material "Aluminum 6061"
